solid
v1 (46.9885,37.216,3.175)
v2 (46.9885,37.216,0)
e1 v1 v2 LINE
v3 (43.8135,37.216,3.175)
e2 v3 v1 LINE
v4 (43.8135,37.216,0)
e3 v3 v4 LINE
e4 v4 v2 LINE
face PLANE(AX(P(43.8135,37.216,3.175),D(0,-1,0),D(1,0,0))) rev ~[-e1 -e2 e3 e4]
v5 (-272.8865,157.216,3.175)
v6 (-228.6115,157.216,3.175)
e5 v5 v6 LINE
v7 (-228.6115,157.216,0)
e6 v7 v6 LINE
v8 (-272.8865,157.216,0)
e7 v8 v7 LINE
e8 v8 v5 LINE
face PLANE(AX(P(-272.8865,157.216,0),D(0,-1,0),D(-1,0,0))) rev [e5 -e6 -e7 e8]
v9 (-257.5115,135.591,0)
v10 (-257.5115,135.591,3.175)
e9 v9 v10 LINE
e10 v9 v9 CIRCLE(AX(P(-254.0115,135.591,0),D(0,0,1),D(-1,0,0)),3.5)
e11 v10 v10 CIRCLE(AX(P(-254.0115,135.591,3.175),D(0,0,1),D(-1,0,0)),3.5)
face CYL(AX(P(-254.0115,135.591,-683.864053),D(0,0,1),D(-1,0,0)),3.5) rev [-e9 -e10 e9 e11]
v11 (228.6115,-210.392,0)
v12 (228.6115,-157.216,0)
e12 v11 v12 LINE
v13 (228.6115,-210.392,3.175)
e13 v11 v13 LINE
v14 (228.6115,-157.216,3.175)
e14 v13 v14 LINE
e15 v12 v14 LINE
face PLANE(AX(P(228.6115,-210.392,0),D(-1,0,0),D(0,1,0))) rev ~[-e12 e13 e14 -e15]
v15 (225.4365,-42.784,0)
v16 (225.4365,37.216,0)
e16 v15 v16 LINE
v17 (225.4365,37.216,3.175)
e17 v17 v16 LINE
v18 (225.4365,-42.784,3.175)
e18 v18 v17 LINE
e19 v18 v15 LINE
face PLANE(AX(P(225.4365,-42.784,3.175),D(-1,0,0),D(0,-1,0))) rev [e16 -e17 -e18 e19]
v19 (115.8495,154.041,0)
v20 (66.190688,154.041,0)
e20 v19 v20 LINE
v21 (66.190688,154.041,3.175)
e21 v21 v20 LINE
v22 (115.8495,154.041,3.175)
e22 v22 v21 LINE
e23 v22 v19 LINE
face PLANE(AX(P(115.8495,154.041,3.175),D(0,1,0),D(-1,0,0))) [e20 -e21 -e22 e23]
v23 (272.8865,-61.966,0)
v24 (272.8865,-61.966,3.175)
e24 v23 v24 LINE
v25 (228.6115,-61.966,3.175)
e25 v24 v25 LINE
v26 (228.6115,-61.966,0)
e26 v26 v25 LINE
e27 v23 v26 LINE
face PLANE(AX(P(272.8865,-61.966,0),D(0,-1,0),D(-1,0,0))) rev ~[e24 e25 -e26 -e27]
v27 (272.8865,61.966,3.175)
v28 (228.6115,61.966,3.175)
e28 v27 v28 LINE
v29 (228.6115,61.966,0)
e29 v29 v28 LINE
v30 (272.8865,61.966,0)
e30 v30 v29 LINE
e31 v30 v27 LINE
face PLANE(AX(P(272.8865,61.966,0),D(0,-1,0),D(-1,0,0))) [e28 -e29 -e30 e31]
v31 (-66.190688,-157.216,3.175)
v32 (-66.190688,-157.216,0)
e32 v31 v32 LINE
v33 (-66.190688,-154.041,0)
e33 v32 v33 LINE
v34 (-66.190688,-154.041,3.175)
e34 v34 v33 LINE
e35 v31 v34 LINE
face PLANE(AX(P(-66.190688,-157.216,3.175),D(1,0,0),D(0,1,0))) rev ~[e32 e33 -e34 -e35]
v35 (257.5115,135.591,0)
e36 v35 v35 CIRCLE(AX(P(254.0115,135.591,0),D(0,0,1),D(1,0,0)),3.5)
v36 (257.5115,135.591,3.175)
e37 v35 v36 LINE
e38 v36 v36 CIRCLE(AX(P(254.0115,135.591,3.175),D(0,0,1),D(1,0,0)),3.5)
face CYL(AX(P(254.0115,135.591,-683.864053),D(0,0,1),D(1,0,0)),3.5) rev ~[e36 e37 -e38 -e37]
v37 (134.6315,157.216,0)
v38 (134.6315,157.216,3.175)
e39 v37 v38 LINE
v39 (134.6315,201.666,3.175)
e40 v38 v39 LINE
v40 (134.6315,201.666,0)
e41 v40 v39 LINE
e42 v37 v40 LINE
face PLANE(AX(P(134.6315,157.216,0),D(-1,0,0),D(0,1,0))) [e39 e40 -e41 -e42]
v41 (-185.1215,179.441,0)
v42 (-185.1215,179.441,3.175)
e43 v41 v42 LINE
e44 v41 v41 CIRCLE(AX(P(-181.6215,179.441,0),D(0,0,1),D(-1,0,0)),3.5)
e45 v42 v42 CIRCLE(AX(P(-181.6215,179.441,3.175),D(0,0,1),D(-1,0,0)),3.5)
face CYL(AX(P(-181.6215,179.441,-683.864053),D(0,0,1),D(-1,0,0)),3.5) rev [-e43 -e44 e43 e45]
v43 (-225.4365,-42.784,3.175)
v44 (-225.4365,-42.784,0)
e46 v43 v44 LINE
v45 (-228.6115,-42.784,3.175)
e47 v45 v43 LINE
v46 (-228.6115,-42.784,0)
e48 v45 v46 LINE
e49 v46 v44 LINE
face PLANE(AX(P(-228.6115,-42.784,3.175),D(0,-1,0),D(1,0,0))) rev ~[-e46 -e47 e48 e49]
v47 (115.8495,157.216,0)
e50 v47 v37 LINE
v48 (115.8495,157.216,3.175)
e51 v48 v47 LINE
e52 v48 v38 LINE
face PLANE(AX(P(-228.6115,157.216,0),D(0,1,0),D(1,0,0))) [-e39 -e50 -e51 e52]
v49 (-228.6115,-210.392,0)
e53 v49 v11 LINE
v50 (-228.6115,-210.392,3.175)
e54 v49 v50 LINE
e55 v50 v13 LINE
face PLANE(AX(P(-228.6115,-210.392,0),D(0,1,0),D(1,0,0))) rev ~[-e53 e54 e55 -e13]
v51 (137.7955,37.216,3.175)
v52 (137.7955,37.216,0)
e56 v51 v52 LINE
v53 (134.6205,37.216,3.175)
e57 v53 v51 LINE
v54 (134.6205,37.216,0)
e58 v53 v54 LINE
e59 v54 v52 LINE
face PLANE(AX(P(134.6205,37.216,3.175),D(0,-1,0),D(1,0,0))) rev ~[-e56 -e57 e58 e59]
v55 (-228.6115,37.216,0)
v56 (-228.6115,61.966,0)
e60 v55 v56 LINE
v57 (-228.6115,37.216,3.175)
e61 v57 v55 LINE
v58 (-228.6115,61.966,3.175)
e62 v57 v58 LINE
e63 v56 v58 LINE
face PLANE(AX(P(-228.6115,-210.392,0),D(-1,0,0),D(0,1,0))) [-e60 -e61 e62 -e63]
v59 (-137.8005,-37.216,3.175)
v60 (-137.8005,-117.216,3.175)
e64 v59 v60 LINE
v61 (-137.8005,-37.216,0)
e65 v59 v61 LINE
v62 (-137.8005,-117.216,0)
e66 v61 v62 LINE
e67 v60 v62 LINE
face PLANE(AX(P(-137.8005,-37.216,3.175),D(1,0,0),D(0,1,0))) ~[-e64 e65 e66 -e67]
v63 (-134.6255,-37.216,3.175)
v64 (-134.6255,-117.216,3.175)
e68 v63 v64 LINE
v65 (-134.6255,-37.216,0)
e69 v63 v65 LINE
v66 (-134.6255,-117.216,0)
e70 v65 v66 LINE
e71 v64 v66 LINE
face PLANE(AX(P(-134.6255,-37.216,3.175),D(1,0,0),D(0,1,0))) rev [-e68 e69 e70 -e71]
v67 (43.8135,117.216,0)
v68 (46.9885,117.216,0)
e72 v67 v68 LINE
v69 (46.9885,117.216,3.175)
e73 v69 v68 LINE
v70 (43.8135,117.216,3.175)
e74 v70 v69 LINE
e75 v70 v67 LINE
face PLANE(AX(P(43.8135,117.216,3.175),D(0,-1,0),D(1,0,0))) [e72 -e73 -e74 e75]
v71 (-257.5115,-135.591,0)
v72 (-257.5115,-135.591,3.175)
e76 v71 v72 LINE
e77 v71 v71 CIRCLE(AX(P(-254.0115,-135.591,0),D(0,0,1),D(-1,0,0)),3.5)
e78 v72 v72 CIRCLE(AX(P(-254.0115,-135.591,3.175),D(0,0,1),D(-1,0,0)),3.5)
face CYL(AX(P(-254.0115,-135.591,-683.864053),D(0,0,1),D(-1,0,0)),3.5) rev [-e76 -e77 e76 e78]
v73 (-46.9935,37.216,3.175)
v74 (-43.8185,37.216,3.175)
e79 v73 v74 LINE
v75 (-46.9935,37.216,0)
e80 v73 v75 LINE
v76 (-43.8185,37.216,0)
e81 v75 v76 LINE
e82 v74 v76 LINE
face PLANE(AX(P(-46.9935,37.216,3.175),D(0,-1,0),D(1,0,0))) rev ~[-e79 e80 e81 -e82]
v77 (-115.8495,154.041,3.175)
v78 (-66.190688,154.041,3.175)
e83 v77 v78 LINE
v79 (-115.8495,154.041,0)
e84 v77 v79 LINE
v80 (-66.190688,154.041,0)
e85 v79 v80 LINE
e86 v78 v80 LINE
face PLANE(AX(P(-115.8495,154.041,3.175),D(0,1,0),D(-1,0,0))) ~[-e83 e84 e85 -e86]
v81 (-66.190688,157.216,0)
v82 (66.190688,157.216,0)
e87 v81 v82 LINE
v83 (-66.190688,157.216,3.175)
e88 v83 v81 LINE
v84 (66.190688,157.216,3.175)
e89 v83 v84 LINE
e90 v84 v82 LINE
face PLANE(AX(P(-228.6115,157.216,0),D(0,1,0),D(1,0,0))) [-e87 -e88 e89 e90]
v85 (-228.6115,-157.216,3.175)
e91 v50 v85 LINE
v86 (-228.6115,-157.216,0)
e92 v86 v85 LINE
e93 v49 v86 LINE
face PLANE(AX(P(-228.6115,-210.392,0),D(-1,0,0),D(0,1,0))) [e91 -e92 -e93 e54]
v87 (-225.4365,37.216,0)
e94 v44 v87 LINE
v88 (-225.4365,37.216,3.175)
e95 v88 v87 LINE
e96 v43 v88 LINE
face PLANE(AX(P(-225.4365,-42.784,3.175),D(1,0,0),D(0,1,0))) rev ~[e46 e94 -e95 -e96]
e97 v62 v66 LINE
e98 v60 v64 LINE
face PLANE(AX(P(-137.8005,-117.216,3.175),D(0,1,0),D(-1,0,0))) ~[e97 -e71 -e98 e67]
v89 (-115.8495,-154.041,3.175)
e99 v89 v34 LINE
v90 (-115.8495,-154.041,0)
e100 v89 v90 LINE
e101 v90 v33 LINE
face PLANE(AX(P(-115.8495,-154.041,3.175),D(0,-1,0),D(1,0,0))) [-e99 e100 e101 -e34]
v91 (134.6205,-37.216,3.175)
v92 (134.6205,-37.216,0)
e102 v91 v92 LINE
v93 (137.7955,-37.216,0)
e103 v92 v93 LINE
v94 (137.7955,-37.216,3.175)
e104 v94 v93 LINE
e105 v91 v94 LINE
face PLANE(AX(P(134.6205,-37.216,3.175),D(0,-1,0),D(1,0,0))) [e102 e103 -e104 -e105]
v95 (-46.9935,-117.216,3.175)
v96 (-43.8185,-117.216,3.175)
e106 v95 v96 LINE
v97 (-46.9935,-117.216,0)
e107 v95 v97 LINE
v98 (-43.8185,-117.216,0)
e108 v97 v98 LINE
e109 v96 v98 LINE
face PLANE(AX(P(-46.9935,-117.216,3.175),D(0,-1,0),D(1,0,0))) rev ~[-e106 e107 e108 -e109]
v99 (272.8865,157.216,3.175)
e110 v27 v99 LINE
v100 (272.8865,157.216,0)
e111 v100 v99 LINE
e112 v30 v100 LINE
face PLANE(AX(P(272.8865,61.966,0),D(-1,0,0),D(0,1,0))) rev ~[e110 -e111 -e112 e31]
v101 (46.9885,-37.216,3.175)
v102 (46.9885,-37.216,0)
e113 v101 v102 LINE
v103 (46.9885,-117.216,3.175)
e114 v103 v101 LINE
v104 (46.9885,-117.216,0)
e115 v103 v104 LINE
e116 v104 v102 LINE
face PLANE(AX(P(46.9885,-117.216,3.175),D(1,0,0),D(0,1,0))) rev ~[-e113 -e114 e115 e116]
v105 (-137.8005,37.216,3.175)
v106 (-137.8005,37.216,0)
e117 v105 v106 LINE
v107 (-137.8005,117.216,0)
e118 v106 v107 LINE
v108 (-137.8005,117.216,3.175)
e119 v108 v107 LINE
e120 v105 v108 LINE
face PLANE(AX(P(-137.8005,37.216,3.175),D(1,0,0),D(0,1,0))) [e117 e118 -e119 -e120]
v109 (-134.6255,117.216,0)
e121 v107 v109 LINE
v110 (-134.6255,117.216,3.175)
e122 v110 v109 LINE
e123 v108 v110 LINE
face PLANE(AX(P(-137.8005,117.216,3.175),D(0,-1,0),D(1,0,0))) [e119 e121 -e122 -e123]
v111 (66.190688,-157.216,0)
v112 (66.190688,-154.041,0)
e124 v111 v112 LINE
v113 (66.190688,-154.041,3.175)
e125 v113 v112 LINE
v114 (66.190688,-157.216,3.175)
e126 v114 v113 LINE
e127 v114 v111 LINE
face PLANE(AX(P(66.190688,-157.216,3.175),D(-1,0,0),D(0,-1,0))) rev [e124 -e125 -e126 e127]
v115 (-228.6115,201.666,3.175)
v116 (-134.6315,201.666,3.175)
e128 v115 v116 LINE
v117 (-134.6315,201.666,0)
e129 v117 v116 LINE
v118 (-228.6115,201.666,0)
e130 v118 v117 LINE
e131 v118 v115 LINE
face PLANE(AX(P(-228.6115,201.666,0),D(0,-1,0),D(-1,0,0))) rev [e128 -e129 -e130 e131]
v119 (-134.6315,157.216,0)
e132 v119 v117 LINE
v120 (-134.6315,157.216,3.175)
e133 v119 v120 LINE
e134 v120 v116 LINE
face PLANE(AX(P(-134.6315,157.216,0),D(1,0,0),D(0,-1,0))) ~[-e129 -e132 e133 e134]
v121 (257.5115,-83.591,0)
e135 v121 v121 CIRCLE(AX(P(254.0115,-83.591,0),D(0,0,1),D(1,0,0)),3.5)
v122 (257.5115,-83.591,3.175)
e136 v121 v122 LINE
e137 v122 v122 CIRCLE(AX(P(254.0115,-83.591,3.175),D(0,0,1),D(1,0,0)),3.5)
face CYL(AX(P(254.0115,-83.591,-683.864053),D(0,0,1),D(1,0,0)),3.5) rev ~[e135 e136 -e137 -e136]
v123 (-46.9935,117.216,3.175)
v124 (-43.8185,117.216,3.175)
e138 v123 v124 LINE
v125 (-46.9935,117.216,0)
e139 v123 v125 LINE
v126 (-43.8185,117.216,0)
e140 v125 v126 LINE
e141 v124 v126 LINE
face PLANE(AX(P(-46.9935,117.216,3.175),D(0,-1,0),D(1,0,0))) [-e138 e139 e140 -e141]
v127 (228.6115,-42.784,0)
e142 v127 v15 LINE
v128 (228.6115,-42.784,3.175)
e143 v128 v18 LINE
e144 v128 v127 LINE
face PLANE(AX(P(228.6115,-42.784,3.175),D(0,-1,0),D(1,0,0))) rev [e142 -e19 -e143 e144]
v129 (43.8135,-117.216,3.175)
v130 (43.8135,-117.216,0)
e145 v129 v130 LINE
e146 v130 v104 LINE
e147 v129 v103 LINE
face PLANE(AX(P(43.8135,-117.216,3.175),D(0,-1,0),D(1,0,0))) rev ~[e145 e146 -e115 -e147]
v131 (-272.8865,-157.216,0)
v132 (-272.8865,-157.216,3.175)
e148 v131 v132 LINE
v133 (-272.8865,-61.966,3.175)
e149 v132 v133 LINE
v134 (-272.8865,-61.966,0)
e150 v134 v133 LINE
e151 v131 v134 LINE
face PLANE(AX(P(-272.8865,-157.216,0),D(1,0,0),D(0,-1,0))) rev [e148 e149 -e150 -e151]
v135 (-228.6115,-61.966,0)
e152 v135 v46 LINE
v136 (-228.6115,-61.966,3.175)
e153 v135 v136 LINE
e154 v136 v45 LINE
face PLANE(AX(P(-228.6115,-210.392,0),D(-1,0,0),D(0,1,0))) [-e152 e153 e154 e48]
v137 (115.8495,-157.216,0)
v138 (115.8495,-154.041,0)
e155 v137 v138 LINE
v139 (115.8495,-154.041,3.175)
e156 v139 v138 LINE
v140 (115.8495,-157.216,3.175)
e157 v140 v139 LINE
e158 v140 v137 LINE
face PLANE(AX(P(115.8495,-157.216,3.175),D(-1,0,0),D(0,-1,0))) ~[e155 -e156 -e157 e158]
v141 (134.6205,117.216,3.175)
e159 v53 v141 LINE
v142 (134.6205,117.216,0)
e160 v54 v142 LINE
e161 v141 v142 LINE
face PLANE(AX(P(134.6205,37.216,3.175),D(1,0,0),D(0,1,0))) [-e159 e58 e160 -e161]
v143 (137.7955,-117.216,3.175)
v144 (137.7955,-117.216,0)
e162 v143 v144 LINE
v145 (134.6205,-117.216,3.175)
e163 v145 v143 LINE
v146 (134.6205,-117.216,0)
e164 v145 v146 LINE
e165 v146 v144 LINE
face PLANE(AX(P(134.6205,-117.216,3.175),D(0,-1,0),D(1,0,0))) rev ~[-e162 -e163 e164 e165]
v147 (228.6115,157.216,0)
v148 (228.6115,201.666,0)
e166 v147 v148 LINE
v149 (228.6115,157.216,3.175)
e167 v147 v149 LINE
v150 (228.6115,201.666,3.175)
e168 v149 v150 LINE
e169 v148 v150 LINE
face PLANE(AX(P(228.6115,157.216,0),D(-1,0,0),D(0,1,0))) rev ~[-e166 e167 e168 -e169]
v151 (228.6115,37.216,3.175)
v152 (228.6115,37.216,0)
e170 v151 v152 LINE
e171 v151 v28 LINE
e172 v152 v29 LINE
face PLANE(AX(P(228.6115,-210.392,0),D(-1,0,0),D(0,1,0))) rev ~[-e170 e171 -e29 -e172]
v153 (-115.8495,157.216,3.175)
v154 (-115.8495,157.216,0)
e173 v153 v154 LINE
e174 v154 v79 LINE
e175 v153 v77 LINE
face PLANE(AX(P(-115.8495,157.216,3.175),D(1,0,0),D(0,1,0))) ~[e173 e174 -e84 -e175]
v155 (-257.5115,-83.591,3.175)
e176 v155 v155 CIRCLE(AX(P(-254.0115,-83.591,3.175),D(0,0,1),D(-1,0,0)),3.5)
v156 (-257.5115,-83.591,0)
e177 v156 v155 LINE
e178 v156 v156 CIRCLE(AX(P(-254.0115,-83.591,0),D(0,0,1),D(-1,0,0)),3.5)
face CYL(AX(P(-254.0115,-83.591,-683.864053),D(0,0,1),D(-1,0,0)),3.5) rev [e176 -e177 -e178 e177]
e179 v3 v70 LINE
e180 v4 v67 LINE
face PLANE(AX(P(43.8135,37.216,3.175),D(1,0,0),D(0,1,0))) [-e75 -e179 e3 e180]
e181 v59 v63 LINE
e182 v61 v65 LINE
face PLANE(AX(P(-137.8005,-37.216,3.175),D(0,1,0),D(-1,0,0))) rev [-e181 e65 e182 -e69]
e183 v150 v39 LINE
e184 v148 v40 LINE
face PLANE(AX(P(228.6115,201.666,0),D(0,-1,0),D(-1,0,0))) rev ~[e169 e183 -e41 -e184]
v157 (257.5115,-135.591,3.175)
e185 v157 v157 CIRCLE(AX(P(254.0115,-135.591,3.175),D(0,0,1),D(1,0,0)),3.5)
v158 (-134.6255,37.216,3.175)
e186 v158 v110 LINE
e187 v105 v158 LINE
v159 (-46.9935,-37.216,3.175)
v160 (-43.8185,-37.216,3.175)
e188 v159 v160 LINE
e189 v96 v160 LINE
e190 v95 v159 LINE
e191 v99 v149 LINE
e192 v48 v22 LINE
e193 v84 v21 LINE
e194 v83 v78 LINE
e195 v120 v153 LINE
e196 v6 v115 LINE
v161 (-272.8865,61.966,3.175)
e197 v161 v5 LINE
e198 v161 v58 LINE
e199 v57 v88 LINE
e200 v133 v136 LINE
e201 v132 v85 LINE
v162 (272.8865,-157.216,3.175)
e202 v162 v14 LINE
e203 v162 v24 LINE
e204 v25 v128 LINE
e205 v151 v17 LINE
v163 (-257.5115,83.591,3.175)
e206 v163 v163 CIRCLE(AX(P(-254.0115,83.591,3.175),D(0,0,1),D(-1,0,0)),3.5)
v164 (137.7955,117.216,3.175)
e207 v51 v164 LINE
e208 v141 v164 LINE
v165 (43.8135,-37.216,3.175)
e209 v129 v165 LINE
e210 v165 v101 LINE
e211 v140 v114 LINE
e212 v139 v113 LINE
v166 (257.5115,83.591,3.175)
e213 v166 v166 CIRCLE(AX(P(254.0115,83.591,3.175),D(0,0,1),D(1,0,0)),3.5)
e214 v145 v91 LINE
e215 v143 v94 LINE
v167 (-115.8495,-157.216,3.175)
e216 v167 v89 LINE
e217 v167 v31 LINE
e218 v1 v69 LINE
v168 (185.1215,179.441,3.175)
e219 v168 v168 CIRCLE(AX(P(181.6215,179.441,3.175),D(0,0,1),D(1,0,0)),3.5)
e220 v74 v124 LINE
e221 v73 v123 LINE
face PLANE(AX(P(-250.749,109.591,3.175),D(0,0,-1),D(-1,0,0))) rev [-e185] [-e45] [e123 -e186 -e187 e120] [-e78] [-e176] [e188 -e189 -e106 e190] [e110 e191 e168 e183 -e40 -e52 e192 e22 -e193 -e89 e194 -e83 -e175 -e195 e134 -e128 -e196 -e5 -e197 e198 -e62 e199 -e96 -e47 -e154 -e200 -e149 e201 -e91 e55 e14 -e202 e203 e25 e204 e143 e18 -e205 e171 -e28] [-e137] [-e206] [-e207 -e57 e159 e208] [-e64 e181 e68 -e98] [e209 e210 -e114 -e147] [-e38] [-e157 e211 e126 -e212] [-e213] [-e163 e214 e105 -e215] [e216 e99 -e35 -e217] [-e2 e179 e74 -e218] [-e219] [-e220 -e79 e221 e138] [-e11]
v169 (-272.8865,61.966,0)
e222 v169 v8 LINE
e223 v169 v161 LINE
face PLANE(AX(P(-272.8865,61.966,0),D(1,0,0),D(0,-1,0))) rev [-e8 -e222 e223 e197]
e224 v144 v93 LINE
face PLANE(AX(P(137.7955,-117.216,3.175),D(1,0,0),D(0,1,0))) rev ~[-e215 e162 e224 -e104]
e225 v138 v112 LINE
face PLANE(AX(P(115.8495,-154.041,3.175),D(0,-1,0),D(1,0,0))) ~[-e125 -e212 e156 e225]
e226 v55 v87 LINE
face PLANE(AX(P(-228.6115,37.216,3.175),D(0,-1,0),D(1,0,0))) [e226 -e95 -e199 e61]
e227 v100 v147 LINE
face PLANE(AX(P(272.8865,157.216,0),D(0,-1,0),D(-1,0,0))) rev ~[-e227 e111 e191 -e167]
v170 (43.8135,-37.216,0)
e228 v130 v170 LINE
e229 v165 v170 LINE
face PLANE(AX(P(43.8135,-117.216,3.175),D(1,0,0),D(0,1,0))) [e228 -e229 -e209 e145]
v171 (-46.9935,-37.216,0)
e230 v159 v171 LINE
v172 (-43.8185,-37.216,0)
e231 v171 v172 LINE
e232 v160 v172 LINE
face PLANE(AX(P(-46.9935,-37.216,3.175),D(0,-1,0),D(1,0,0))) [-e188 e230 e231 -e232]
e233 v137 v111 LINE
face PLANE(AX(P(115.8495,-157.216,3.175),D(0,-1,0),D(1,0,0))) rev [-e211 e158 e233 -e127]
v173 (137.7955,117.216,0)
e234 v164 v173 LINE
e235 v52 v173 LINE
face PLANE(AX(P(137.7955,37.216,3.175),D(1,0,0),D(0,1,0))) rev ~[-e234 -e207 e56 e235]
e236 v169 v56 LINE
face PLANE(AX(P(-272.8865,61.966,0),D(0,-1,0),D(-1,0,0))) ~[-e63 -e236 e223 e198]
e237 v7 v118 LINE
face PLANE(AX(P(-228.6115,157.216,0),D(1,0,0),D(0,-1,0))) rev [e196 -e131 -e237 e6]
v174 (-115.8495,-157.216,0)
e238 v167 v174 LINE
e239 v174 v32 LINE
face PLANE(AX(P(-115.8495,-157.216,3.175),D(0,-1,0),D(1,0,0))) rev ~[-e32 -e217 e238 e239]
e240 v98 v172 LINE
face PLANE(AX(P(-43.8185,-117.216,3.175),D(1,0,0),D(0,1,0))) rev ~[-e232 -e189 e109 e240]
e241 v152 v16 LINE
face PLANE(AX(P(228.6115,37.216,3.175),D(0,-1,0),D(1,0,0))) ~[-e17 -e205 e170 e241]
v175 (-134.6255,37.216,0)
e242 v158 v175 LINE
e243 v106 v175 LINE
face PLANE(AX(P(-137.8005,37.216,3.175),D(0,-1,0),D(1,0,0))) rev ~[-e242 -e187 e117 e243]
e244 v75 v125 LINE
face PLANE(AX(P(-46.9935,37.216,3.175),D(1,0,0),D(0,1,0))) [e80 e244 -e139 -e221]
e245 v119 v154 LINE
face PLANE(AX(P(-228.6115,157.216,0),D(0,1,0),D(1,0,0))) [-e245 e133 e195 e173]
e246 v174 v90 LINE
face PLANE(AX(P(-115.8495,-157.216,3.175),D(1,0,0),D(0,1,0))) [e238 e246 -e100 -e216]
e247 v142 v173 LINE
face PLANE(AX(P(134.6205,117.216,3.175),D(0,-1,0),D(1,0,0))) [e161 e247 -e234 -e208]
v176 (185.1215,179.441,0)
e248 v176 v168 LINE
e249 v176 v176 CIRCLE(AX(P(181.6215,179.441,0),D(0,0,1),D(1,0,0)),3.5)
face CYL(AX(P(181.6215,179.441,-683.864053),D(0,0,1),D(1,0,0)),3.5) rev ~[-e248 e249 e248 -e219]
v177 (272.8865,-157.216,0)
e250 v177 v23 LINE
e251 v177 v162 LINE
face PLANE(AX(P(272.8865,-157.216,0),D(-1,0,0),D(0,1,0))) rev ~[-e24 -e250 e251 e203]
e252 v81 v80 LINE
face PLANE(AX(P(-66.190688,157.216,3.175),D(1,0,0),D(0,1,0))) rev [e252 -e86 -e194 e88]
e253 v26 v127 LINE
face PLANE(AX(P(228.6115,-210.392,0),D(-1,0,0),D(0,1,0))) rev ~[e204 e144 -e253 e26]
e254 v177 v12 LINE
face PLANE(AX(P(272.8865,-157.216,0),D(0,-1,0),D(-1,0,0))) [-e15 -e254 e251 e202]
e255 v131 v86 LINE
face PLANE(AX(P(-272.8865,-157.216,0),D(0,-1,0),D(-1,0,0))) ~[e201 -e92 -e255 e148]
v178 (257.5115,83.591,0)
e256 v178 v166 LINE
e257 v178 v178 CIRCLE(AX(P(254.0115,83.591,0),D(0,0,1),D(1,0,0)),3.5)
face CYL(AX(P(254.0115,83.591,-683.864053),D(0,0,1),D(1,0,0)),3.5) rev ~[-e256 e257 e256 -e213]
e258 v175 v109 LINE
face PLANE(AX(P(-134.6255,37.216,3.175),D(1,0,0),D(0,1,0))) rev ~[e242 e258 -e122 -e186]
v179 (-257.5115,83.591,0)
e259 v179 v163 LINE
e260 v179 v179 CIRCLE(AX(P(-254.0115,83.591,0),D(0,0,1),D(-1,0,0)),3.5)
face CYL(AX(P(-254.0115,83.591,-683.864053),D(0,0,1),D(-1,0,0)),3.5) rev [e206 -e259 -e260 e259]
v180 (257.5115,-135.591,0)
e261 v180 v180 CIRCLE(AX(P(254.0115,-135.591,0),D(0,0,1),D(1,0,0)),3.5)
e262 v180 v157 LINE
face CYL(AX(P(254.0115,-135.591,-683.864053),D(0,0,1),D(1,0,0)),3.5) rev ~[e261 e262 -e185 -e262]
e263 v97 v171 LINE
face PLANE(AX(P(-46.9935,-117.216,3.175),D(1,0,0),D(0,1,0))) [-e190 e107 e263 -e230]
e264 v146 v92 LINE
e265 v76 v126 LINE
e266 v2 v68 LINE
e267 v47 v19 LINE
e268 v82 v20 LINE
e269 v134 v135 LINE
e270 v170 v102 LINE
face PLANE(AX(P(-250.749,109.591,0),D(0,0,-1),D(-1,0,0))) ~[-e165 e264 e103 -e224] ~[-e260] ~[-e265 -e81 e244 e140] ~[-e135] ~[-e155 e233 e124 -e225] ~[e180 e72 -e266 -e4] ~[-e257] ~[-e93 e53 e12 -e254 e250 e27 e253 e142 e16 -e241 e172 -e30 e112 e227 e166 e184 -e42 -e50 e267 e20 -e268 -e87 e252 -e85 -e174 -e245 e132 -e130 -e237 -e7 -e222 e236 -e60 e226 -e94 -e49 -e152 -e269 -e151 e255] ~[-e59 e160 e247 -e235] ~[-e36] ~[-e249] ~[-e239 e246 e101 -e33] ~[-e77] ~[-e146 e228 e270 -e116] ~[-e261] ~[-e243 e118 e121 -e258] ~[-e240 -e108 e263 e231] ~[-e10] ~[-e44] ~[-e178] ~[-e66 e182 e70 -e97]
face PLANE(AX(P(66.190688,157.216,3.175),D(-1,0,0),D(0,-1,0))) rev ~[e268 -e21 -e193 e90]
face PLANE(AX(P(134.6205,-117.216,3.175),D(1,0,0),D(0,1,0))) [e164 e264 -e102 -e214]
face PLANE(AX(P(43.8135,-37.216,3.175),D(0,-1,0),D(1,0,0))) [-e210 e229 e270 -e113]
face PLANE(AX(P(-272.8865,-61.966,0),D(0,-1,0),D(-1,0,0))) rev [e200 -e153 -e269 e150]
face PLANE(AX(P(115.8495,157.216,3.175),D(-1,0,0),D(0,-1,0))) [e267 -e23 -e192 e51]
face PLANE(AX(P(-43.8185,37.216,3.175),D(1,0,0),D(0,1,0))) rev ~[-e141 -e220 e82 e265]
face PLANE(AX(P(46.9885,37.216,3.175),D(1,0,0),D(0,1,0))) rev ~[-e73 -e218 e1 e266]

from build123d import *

# Parameters (mm, degrees)
SKETCH1_W                 = 457.223
SKETCH1_H                 = 367.60800004
BOSS_EXTRUDE2_DEPTH       = 3.175
SKETCH4_W                 = 3.175
SKETCH4_H                 = 80
CUT_EXTRUDE1_DEPTH        = 3.175
LPATTERN1_COUNT           = 4
LPATTERN1_PITCH           = 90.807
LPATTERN1_COPY_1_SKETCH_W = 3.175
LPATTERN1_COPY_1_SKETCH_H = 80
LPATTERN1_COPY_1_DEPTH    = 3.175
LPATTERN1_COPY_2_SKETCH_W = 3.175
LPATTERN1_COPY_2_SKETCH_H = 80
LPATTERN1_COPY_2_DEPTH    = 3.175
LPATTERN1_COPY_3_SKETCH_W = 3.175
LPATTERN1_COPY_3_SKETCH_H = 80
LPATTERN1_COPY_3_DEPTH    = 3.175
SKETCH5_W                 = 49.658811606
SKETCH5_H                 = 3.175
CUT_EXTRUDE2_DEPTH        = 3.175
MIRROR3_COPY_1_SKETCH_W   = 49.658811606
MIRROR3_COPY_1_SKETCH_H   = 3.175
MIRROR3_COPY_1_DEPTH      = 3.175
SKETCH6_W                 = 3.175
SKETCH6_H                 = 80
CUT_EXTRUDE3_DEPTH        = 311.705796904
SKETCH8_W                 = 44.275
SKETCH8_H                 = 95.25
SKETCH8_W_2               = 93.98
SKETCH8_H_2               = 44.45
BOSS_EXTRUDE3_DEPTH       = 3.175
M6_CLEARANCE_HOLE1_D      = 7


with BuildPart() as part:
    # Sketch1 → Boss-Extrude2 (new body)
    with BuildSketch(Plane.XY):
        with Locations((0, -26.588)):
            Rectangle(SKETCH1_W, SKETCH1_H)
    extrude(amount=BOSS_EXTRUDE2_DEPTH)

    # Sketch4 → Cut-Extrude1 (cut)
    with BuildSketch(Plane.XY.offset(3.175)):
        with Locations((-136.213, 77.21600002)):
            Rectangle(SKETCH4_W, SKETCH4_H)
    cut_extrude1 = extrude(amount=-CUT_EXTRUDE1_DEPTH, mode=Mode.SUBTRACT)

    # Mirror1: Cut-Extrude1 across plane
    add(cut_extrude1.mirror(Plane.ZX), mode=Mode.SUBTRACT)

    # LPattern1: Cut-Extrude1 ×4
    with Locations(*[(i * LPATTERN1_PITCH, 0, 0) for i in range(1, LPATTERN1_COUNT)]):
        add(cut_extrude1, mode=Mode.SUBTRACT)

    # LPattern1 copy 1 sketch → LPattern1 copy 1 (cut)
    with BuildSketch(Plane(origin=(90.807, 0, 3.175), x_dir=(1, 0, 0), z_dir=(0, 0, 1))):
        with Locations((-136.213, -77.21600002)):
            Rectangle(LPATTERN1_COPY_1_SKETCH_W, LPATTERN1_COPY_1_SKETCH_H)
    extrude(amount=-LPATTERN1_COPY_1_DEPTH, mode=Mode.SUBTRACT)

    # LPattern1 copy 2 sketch → LPattern1 copy 2 (cut)
    with BuildSketch(Plane(origin=(181.614, 0, 3.175), x_dir=(1, 0, 0), z_dir=(0, 0, 1))):
        with Locations((-136.213, -77.21600002)):
            Rectangle(LPATTERN1_COPY_2_SKETCH_W, LPATTERN1_COPY_2_SKETCH_H)
    extrude(amount=-LPATTERN1_COPY_2_DEPTH, mode=Mode.SUBTRACT)

    # LPattern1 copy 3 sketch → LPattern1 copy 3 (cut)
    with BuildSketch(Plane(origin=(272.421, 0, 3.175), x_dir=(1, 0, 0), z_dir=(0, 0, 1))):
        with Locations((-136.213, -77.21600002)):
            Rectangle(LPATTERN1_COPY_3_SKETCH_W, LPATTERN1_COPY_3_SKETCH_H)
    extrude(amount=-LPATTERN1_COPY_3_DEPTH, mode=Mode.SUBTRACT)

    # Sketch5 → Cut-Extrude2 (cut)
    with BuildSketch(Plane.XY.offset(3.175)):
        with Locations((-91.020094169, -155.62850002)):
            Rectangle(SKETCH5_W, SKETCH5_H)
    cut_extrude2 = extrude(amount=-CUT_EXTRUDE2_DEPTH, mode=Mode.SUBTRACT)

    # Mirror2: Cut-Extrude2 across plane
    add(cut_extrude2.mirror(Plane(origin=(0, 0, 0), x_dir=(0, 0, 1), z_dir=(1, 0, 0))), mode=Mode.SUBTRACT)

    # Mirror3: Cut-Extrude2 across plane
    add(cut_extrude2.mirror(Plane.ZX), mode=Mode.SUBTRACT)

    # Mirror3 copy 1 sketch → Mirror3 copy 1 (cut)
    with BuildSketch(Plane(origin=(0, 0, 3.175), x_dir=(-1, 0, 0), z_dir=(0, 0, 1))):
        with Locations((-91.020094169, -155.62850002)):
            Rectangle(MIRROR3_COPY_1_SKETCH_W, MIRROR3_COPY_1_SKETCH_H)
    extrude(amount=-MIRROR3_COPY_1_DEPTH, mode=Mode.SUBTRACT)

    # Sketch6 → Cut-Extrude3 (cut, through all)
    with BuildSketch(Plane.XY.offset(3.175)):
        with Locations((-227.024, -2.78399998)):
            Rectangle(SKETCH6_W, SKETCH6_H)
    cut_extrude3 = extrude(amount=-CUT_EXTRUDE3_DEPTH, mode=Mode.SUBTRACT)

    # Mirror5: Cut-Extrude3 across plane
    add(cut_extrude3.mirror(Plane(origin=(0, 0, 0), x_dir=(0, 0, 1), z_dir=(1, 0, 0))), mode=Mode.SUBTRACT)

    # Sketch8 → Boss-Extrude3 (add)
    with BuildSketch(Plane(origin=(0, 0, 0), x_dir=(-1, 0, 0), z_dir=(0, 0, -1))):
        with Locations((-250.749, 109.59100002)):
            Rectangle(SKETCH8_W, SKETCH8_H)
        with Locations((-181.6215, 179.44100002)):
            Rectangle(SKETCH8_W_2, SKETCH8_H_2)
        with Locations((-250.749, -109.59100002)):
            Rectangle(SKETCH8_W, SKETCH8_H)
    boss_extrude3 = extrude(amount=-BOSS_EXTRUDE3_DEPTH)

    # Mirror7: Boss-Extrude3 across plane
    add(boss_extrude3.mirror(Plane(origin=(0, 0, 0), x_dir=(0, 0, 1), z_dir=(1, 0, 0))))

    # M6 Clearance Hole1 (through all)
    with Locations(Plane(origin=(0, 0, 0), x_dir=(-1, 0, 0), z_dir=(0, 0, -1))):
        with Locations((-254.0115, -135.59100002), (-254.0115, -83.59100002), (-254.0115, 83.59100002), (-254.0115, 135.59100002), (-181.6215, 179.44100002)):
            m6_clearance_hole1 = Hole(M6_CLEARANCE_HOLE1_D / 2)

    # Mirror8: M6 Clearance Hole1 across plane
    add(m6_clearance_hole1.mirror(Plane(origin=(0, 0, 0), x_dir=(0, 0, 1), z_dir=(1, 0, 0))), mode=Mode.SUBTRACT)


solid = part.part
